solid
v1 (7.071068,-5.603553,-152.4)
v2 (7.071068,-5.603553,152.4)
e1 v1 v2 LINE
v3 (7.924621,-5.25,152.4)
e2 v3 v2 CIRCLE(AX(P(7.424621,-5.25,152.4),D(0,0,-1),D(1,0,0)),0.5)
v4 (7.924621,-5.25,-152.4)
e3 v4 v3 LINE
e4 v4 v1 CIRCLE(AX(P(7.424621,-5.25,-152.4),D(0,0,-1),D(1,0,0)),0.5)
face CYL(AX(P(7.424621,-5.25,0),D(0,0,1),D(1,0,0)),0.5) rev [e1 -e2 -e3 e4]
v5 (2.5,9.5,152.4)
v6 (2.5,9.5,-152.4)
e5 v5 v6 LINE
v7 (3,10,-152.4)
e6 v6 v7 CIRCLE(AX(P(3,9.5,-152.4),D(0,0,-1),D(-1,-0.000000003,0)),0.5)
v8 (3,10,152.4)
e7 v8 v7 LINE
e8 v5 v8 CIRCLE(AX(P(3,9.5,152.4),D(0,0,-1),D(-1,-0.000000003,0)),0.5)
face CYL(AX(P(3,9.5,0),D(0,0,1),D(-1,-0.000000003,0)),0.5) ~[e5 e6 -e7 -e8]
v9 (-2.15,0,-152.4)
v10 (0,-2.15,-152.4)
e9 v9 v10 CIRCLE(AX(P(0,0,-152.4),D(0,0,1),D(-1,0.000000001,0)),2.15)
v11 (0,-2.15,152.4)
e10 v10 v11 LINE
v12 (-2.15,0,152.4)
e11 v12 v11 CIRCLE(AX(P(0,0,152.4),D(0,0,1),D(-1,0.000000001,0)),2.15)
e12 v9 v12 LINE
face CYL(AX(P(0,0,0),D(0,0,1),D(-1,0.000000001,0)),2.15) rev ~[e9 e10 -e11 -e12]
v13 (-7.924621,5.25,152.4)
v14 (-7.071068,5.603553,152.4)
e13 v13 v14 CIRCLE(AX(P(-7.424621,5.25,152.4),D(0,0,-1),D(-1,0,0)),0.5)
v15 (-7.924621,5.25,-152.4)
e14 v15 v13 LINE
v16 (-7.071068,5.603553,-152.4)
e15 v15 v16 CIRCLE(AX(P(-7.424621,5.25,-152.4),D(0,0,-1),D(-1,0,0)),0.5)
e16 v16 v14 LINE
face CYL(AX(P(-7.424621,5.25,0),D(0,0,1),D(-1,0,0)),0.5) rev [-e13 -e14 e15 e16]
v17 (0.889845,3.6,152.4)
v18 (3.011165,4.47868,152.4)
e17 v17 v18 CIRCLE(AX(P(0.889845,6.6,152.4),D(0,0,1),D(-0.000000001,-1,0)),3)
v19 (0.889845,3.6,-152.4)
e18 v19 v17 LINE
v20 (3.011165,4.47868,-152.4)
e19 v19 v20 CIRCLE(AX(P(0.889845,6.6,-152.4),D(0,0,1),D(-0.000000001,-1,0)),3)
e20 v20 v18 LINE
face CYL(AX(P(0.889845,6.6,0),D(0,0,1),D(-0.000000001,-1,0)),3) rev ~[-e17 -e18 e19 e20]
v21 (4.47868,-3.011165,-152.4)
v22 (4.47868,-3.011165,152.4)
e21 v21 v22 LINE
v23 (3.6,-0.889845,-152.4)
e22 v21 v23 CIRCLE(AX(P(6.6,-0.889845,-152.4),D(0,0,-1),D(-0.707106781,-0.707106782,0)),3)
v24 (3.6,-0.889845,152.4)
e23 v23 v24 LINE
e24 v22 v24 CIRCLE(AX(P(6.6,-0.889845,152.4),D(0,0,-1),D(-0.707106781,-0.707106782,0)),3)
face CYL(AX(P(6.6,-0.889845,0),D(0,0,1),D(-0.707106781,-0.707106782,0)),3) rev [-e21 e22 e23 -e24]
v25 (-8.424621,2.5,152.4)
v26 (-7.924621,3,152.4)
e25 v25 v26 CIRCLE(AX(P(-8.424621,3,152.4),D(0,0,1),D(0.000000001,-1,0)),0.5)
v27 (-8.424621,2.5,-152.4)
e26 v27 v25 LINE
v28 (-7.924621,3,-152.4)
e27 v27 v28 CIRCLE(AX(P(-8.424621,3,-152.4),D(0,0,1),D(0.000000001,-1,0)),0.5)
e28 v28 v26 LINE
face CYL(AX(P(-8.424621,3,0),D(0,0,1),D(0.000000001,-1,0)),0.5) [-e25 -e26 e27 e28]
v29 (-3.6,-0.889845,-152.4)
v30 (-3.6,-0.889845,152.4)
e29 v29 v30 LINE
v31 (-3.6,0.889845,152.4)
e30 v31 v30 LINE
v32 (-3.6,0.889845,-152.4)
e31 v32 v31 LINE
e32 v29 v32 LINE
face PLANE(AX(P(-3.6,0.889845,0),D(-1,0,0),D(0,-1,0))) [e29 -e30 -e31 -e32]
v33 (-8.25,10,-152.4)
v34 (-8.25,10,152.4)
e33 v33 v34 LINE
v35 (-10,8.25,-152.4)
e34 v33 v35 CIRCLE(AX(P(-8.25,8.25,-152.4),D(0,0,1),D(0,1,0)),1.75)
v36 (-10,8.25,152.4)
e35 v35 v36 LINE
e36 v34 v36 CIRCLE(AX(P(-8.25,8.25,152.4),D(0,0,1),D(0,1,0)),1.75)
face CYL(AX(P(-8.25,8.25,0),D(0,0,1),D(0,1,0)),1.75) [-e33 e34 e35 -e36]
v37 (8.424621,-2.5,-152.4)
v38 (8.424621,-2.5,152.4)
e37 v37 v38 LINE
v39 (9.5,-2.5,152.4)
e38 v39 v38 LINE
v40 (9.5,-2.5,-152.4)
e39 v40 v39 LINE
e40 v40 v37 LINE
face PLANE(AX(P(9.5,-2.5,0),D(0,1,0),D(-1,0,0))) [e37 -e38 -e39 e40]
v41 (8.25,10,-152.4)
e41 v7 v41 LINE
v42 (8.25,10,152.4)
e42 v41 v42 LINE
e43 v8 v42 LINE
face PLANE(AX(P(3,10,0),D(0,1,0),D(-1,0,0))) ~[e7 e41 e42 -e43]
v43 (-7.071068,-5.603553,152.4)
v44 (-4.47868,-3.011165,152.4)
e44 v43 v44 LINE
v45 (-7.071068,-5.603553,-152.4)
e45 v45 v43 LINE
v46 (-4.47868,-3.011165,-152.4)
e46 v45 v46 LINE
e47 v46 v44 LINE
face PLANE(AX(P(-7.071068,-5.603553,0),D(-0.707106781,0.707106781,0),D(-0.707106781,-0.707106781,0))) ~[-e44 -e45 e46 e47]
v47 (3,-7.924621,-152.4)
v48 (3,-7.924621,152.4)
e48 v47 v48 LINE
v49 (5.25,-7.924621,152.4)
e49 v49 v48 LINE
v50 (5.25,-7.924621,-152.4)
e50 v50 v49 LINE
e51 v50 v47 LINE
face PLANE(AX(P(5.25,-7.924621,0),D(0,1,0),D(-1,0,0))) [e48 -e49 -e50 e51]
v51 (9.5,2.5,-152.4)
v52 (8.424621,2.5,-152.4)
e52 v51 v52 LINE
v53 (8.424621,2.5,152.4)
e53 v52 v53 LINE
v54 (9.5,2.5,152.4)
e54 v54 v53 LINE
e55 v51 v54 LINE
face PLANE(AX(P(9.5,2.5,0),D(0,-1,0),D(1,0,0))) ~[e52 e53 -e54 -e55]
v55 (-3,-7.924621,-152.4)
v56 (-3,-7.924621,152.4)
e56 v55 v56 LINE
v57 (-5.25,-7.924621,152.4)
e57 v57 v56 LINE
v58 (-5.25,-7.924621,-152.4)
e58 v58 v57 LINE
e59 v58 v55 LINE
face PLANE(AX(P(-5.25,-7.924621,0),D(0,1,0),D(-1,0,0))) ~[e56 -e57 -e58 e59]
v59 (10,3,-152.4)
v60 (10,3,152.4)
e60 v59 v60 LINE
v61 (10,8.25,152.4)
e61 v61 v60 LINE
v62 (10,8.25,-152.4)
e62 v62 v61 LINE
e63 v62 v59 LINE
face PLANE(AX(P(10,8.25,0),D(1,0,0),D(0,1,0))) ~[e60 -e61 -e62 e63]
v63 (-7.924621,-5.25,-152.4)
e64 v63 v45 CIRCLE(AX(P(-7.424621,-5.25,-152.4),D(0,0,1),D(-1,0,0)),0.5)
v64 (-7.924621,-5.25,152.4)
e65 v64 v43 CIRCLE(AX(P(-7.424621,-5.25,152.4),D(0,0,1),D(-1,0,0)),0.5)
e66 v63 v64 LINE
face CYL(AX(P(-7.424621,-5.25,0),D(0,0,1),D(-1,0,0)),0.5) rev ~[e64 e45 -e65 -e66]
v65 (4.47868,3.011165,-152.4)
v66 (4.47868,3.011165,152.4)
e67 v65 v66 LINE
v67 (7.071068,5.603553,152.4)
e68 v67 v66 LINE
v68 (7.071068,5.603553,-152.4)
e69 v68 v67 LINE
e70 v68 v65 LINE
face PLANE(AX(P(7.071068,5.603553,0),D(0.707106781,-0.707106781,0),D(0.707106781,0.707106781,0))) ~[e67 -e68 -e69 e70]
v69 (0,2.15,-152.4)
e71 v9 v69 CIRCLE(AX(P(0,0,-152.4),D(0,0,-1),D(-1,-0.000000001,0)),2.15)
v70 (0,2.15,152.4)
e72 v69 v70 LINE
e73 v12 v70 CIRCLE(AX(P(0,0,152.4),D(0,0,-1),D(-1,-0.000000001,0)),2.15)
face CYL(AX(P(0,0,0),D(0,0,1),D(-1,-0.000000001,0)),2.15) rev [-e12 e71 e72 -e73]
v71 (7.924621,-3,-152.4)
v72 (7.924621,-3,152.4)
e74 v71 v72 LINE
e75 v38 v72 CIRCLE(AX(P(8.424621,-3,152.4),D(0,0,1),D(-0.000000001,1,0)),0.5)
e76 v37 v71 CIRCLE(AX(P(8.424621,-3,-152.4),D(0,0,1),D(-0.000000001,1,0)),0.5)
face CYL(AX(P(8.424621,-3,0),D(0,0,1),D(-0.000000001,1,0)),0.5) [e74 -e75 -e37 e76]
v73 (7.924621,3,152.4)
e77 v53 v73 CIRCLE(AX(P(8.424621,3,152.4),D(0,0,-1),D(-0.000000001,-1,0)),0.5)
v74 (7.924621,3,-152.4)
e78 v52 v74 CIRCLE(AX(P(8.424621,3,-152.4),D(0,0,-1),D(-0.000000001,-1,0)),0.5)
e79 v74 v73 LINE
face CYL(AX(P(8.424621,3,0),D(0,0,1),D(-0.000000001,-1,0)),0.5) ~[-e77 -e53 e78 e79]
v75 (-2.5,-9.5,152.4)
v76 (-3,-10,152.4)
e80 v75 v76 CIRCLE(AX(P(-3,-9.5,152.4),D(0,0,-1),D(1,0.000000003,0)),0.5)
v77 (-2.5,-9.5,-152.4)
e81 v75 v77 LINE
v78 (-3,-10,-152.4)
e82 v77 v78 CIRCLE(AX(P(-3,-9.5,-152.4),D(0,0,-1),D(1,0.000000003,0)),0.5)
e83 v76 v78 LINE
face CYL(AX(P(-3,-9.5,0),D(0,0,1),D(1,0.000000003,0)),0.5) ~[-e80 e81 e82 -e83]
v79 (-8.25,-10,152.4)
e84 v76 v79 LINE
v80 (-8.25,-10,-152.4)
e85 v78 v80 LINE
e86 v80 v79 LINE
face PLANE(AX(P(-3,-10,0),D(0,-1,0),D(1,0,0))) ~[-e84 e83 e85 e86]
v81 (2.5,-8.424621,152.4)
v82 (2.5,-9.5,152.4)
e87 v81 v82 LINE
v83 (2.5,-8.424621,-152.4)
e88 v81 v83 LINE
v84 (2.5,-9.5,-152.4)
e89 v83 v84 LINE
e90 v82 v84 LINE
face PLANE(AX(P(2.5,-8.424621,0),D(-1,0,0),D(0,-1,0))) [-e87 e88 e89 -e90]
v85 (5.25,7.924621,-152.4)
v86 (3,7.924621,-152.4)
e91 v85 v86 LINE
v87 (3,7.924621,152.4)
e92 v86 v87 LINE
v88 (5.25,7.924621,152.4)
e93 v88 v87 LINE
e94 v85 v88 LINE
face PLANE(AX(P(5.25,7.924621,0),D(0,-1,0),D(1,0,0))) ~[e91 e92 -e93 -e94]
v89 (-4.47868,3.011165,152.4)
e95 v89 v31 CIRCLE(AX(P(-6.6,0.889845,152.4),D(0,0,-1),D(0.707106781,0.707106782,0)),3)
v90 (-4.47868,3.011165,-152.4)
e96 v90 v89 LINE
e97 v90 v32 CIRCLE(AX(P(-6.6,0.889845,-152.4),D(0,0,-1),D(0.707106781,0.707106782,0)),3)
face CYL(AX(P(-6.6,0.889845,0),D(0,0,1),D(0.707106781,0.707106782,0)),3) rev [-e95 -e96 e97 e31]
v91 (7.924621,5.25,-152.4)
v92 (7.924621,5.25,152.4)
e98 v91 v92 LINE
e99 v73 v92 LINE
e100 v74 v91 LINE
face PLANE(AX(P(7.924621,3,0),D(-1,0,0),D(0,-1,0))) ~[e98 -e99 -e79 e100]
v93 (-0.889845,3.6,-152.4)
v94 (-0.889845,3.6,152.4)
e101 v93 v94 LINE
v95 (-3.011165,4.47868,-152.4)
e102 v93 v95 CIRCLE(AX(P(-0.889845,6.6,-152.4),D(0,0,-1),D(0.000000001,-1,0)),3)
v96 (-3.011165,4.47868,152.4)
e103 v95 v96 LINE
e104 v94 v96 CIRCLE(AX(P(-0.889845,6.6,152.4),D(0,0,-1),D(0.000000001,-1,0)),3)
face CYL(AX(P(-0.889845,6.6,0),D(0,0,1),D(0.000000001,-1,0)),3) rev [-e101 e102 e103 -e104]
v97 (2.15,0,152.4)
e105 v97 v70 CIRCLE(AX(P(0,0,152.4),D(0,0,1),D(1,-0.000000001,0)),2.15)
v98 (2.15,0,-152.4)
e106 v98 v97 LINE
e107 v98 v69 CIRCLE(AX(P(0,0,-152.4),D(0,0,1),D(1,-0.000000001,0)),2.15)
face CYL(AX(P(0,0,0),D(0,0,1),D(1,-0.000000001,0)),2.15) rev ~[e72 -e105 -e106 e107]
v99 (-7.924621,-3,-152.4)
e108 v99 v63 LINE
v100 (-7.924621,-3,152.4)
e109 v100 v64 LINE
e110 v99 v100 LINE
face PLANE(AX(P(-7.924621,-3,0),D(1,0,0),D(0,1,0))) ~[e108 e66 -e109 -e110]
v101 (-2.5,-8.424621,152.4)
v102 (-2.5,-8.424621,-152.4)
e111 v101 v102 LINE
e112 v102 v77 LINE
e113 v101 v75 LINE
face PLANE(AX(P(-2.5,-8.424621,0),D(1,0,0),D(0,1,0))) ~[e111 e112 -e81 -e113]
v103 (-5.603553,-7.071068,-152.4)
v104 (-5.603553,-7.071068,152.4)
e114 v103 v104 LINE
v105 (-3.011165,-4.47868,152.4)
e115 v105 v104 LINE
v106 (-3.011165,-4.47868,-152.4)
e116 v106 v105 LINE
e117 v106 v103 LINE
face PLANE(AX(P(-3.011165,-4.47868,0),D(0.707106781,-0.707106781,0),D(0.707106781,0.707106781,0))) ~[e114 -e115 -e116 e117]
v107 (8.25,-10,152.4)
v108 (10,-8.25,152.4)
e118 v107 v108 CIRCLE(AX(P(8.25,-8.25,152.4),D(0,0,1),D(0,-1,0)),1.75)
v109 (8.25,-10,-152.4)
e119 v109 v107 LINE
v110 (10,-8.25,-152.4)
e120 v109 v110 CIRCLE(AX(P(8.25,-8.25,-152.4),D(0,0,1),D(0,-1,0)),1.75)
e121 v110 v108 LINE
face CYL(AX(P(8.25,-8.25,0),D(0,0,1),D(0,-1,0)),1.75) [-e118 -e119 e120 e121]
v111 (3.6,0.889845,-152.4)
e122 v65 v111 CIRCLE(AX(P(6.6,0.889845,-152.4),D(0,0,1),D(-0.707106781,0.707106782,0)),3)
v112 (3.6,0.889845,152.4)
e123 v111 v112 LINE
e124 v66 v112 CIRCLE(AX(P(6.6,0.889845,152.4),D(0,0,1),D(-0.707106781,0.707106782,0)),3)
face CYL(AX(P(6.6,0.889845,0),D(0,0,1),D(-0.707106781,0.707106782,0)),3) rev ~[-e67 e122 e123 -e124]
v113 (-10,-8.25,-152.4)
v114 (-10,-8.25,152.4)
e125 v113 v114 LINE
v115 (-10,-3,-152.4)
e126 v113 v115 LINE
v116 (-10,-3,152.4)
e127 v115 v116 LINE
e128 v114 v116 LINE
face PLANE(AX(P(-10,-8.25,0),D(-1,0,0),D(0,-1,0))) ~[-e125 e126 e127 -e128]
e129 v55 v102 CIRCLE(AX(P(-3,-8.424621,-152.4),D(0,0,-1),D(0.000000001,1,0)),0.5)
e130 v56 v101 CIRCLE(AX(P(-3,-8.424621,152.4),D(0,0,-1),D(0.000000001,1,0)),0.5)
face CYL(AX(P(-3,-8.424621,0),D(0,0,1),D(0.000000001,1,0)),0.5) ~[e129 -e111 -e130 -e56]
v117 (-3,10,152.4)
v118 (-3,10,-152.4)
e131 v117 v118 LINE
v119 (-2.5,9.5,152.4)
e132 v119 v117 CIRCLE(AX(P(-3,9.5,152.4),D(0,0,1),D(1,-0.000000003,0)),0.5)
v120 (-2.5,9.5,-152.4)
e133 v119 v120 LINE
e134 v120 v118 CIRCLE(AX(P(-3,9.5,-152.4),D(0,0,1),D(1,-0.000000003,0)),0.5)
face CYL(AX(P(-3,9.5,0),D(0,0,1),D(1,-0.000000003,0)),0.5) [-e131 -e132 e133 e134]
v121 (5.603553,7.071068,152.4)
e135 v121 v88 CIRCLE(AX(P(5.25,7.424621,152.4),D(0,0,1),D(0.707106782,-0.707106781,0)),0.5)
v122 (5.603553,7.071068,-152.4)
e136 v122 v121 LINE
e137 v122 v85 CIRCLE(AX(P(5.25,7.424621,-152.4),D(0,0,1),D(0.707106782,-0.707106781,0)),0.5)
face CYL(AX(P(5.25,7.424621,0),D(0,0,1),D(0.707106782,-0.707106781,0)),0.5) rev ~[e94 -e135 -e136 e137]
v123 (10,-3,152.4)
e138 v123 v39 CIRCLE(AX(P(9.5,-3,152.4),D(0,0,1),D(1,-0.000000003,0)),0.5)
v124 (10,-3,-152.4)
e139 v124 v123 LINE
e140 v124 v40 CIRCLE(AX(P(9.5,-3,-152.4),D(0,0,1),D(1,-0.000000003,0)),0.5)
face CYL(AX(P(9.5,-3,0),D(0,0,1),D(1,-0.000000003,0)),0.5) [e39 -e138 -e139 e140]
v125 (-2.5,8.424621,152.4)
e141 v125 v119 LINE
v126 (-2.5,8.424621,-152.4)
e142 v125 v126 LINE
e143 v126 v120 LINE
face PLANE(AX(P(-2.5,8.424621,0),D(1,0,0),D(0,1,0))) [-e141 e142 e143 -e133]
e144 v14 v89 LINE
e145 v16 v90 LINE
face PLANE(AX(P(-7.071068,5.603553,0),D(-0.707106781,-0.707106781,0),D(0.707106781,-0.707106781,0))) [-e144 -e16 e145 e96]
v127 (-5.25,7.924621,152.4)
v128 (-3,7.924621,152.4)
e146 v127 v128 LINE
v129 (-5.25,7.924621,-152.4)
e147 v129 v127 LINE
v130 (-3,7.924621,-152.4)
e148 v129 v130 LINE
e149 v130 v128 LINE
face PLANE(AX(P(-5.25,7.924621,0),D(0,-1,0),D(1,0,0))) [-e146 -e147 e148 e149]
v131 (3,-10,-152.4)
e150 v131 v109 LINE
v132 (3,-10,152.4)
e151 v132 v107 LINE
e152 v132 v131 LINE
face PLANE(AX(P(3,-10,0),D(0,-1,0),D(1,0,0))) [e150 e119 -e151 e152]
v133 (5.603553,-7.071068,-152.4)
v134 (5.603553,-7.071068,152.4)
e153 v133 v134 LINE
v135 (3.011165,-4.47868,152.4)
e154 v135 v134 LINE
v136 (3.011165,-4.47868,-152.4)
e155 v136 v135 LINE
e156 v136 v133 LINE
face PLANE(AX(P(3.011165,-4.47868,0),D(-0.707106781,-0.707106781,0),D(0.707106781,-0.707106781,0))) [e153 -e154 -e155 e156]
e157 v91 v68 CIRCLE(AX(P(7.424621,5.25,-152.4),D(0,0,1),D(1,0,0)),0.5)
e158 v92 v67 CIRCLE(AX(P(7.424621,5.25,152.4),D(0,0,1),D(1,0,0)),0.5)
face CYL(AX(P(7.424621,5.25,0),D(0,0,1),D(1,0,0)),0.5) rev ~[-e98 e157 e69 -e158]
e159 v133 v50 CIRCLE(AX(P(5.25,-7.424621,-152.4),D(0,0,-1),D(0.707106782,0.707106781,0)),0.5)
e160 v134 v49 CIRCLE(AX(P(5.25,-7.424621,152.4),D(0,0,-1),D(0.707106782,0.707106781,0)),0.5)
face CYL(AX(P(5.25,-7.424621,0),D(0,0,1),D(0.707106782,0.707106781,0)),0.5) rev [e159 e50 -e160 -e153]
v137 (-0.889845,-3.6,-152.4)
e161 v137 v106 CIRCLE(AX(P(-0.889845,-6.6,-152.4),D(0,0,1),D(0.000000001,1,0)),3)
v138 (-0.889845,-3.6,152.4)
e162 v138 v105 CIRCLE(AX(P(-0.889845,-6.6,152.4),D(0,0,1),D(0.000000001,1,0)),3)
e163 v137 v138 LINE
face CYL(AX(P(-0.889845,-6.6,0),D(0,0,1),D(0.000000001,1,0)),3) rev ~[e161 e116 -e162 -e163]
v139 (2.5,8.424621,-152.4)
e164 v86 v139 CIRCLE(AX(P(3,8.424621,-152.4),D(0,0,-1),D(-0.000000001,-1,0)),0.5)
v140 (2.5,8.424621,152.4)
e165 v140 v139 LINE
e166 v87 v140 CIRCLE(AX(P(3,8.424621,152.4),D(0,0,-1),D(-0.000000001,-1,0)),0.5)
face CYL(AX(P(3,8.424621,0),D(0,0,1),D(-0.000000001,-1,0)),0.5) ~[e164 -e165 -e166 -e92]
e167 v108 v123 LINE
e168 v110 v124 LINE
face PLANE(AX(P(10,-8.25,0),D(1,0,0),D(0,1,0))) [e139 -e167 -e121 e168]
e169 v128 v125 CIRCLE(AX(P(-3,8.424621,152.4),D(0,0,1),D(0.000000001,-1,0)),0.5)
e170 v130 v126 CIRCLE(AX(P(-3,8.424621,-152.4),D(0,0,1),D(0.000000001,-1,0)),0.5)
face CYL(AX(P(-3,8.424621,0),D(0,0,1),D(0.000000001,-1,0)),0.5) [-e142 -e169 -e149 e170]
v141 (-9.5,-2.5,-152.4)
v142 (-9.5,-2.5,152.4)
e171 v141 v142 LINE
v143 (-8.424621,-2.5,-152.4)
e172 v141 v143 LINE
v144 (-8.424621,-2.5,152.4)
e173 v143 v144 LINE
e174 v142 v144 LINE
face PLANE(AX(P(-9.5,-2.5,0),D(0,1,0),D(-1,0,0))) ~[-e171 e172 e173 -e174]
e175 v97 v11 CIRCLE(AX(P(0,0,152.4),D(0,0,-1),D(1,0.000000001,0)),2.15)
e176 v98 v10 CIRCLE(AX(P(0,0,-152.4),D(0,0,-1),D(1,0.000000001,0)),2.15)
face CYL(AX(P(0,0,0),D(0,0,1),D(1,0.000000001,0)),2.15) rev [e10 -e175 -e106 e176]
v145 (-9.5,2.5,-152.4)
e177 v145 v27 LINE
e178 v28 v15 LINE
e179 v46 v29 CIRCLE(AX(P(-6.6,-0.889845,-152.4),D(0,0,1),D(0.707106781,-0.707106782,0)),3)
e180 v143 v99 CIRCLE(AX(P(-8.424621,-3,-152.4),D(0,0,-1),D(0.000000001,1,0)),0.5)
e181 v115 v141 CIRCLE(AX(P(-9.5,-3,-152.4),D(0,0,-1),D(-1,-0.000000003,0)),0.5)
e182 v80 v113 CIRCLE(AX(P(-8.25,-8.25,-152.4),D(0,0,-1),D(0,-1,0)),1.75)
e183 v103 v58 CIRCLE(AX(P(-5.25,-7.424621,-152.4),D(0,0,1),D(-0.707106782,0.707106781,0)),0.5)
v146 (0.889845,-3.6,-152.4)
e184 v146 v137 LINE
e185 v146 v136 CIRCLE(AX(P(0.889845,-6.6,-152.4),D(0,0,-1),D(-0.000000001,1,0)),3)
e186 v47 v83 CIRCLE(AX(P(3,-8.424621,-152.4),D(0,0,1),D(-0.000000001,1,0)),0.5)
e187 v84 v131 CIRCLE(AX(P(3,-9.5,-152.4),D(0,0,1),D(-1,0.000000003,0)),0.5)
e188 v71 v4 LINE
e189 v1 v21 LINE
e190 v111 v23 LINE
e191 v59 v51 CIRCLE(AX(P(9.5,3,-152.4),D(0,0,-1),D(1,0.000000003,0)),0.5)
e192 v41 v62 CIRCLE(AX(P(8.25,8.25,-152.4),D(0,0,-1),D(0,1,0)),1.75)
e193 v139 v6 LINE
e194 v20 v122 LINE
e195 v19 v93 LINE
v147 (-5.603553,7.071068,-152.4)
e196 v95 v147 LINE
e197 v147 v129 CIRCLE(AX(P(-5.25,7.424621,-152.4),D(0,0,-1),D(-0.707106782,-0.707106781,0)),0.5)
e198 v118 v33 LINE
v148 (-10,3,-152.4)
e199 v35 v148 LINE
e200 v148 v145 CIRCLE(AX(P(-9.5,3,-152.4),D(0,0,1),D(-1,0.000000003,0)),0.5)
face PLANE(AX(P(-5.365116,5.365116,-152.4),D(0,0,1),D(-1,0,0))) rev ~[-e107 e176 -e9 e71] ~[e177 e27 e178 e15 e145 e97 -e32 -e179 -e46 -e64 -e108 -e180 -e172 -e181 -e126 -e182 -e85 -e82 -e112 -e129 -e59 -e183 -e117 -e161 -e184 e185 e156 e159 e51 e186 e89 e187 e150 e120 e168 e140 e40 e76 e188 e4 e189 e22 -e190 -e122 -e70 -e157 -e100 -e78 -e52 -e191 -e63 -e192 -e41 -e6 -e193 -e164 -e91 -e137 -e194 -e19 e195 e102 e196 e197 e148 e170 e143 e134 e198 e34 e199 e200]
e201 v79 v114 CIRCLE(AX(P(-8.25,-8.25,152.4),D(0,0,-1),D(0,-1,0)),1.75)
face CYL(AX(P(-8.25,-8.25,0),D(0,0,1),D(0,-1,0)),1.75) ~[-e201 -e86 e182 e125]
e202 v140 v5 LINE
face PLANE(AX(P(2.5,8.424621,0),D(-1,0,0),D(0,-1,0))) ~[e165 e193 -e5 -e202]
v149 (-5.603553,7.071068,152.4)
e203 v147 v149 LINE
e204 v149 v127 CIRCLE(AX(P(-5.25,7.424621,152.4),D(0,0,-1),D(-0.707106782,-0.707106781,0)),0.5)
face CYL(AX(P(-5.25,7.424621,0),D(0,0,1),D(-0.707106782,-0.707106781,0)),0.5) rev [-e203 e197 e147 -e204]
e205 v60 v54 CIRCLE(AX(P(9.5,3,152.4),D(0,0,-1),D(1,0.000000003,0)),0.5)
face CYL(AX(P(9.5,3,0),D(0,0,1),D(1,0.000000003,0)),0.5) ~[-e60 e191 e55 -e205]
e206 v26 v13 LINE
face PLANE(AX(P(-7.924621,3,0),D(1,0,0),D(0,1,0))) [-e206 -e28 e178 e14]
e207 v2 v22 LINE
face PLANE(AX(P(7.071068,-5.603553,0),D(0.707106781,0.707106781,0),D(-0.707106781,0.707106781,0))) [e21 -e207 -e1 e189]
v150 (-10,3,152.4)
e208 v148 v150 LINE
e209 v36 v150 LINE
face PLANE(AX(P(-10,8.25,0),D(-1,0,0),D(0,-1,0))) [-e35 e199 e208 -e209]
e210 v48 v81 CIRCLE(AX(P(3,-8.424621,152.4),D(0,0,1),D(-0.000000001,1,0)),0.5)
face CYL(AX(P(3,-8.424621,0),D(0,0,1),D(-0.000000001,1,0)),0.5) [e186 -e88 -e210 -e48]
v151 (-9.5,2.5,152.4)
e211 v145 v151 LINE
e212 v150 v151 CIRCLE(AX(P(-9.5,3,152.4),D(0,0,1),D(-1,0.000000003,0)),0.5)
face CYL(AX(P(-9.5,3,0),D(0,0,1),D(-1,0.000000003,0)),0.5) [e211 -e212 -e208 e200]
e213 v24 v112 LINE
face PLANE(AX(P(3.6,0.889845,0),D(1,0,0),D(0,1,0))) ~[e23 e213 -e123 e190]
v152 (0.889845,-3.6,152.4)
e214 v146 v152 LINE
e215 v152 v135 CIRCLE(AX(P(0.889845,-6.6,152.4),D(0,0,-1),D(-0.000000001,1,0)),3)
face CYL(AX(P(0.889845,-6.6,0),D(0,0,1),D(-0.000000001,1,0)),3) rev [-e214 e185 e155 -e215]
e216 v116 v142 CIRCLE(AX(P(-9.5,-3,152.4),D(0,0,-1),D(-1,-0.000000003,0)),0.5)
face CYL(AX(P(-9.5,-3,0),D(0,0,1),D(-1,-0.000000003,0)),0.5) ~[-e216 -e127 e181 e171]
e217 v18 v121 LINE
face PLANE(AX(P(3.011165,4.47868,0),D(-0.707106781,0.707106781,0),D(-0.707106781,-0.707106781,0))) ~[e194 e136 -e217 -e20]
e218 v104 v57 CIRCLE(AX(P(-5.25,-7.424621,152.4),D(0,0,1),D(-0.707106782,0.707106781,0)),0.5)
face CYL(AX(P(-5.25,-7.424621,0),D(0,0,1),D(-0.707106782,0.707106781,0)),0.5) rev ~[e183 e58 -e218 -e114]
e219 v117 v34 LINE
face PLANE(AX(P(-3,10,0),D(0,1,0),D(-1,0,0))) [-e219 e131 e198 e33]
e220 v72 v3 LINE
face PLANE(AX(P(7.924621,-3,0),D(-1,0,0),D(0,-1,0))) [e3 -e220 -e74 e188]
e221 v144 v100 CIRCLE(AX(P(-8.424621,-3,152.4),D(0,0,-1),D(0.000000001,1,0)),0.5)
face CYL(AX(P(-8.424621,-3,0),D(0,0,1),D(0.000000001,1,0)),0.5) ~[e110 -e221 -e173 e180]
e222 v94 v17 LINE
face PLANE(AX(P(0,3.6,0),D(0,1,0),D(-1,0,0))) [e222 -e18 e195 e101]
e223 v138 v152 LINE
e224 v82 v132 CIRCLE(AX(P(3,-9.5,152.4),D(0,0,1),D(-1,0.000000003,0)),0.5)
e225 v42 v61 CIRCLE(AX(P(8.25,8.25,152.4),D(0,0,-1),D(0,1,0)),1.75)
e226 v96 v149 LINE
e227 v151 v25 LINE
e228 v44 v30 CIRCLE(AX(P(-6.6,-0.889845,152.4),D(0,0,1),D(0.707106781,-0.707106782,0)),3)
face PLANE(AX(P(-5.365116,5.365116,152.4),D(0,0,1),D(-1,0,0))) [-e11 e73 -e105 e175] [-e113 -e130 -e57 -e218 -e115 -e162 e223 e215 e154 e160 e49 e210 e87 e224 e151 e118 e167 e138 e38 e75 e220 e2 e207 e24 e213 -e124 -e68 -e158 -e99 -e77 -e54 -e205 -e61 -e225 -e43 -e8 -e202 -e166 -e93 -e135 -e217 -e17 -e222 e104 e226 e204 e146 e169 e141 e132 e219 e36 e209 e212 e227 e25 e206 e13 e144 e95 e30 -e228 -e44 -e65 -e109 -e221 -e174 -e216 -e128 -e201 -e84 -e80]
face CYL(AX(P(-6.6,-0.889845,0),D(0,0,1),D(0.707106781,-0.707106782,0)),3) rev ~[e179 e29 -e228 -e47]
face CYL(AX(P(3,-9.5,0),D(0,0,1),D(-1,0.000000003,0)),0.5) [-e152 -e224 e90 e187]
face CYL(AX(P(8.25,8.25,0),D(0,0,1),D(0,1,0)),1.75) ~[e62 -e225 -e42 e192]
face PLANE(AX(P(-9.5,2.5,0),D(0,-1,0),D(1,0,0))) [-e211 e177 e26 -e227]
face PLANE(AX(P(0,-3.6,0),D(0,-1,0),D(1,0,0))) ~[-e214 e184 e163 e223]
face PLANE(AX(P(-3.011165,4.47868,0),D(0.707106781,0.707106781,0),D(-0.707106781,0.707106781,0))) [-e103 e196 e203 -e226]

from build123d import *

# Parameters (mm, degrees)
BOSS_EXTRUDE1_DEPTH = 152.4


with BuildPart() as part:
    # Sketch4 → Boss-Extrude1 (new body, symmetric)
    with BuildSketch(Plane.XY):
        with BuildLine():
            Line((3, -10), (8.25, -10))
            ThreePointArc((8.25, -10), (9.487436867, -9.487436867), (10, -8.25))
            Line((10, -8.25), (10, -3))
            ThreePointArc((10, -3), (9.853553391, -2.646446609), (9.5, -2.5))
            Line((9.5, -2.5), (8.424621202, -2.5))
            ThreePointArc((8.424621202, -2.5), (8.071067812, -2.646446609), (7.924621202, -3))
            Line((7.924621202, -3), (7.924621202, -5.25))
            ThreePointArc((7.924621202, -5.25), (7.615962919, -5.711939766), (7.071067812, -5.603553391))
            Line((7.071067812, -5.603553391), (4.478679656, -3.011165235))
            ThreePointArc((4.478679656, -3.011165235), (3.828361402, -2.037895189), (3.6, -0.889844892))
            Line((3.6, -0.889844892), (3.6, 0))
            Line((3.6, 0), (2.15, 0))
            ThreePointArc((2.15, 0), (1.52027958, -1.52027958), (0, -2.15))
            Line((0, -2.15), (0, -3.6))
            Line((0, -3.6), (0.889844892, -3.6))
            ThreePointArc((0.889844892, -3.6), (2.037895189, -3.828361402), (3.011165235, -4.478679656))
            Line((3.011165235, -4.478679656), (5.603553391, -7.071067812))
            ThreePointArc((5.603553391, -7.071067812), (5.711939766, -7.615962919), (5.25, -7.924621202))
            Line((5.25, -7.924621202), (3, -7.924621202))
            ThreePointArc((3, -7.924621202), (2.646446609, -8.071067812), (2.5, -8.424621202))
            Line((2.5, -8.424621202), (2.5, -9.5))
            ThreePointArc((2.5, -9.5), (2.646446609, -9.853553391), (3, -10))
        make_face()
    extrude(amount=BOSS_EXTRUDE1_DEPTH, both=True)

    # Mirror1: part across plane


with BuildPart() as part_1:
    add(part.part)
    add(part.part.mirror(Plane(origin=(0, 0, 0), x_dir=(0, 0, 1), z_dir=(1, 0, 0))))

    # Mirror2: part across plane


with BuildPart() as part_2:
    add(part_1.part)
    add(part_1.part.mirror(Plane.ZX))


solid = part_2.part
